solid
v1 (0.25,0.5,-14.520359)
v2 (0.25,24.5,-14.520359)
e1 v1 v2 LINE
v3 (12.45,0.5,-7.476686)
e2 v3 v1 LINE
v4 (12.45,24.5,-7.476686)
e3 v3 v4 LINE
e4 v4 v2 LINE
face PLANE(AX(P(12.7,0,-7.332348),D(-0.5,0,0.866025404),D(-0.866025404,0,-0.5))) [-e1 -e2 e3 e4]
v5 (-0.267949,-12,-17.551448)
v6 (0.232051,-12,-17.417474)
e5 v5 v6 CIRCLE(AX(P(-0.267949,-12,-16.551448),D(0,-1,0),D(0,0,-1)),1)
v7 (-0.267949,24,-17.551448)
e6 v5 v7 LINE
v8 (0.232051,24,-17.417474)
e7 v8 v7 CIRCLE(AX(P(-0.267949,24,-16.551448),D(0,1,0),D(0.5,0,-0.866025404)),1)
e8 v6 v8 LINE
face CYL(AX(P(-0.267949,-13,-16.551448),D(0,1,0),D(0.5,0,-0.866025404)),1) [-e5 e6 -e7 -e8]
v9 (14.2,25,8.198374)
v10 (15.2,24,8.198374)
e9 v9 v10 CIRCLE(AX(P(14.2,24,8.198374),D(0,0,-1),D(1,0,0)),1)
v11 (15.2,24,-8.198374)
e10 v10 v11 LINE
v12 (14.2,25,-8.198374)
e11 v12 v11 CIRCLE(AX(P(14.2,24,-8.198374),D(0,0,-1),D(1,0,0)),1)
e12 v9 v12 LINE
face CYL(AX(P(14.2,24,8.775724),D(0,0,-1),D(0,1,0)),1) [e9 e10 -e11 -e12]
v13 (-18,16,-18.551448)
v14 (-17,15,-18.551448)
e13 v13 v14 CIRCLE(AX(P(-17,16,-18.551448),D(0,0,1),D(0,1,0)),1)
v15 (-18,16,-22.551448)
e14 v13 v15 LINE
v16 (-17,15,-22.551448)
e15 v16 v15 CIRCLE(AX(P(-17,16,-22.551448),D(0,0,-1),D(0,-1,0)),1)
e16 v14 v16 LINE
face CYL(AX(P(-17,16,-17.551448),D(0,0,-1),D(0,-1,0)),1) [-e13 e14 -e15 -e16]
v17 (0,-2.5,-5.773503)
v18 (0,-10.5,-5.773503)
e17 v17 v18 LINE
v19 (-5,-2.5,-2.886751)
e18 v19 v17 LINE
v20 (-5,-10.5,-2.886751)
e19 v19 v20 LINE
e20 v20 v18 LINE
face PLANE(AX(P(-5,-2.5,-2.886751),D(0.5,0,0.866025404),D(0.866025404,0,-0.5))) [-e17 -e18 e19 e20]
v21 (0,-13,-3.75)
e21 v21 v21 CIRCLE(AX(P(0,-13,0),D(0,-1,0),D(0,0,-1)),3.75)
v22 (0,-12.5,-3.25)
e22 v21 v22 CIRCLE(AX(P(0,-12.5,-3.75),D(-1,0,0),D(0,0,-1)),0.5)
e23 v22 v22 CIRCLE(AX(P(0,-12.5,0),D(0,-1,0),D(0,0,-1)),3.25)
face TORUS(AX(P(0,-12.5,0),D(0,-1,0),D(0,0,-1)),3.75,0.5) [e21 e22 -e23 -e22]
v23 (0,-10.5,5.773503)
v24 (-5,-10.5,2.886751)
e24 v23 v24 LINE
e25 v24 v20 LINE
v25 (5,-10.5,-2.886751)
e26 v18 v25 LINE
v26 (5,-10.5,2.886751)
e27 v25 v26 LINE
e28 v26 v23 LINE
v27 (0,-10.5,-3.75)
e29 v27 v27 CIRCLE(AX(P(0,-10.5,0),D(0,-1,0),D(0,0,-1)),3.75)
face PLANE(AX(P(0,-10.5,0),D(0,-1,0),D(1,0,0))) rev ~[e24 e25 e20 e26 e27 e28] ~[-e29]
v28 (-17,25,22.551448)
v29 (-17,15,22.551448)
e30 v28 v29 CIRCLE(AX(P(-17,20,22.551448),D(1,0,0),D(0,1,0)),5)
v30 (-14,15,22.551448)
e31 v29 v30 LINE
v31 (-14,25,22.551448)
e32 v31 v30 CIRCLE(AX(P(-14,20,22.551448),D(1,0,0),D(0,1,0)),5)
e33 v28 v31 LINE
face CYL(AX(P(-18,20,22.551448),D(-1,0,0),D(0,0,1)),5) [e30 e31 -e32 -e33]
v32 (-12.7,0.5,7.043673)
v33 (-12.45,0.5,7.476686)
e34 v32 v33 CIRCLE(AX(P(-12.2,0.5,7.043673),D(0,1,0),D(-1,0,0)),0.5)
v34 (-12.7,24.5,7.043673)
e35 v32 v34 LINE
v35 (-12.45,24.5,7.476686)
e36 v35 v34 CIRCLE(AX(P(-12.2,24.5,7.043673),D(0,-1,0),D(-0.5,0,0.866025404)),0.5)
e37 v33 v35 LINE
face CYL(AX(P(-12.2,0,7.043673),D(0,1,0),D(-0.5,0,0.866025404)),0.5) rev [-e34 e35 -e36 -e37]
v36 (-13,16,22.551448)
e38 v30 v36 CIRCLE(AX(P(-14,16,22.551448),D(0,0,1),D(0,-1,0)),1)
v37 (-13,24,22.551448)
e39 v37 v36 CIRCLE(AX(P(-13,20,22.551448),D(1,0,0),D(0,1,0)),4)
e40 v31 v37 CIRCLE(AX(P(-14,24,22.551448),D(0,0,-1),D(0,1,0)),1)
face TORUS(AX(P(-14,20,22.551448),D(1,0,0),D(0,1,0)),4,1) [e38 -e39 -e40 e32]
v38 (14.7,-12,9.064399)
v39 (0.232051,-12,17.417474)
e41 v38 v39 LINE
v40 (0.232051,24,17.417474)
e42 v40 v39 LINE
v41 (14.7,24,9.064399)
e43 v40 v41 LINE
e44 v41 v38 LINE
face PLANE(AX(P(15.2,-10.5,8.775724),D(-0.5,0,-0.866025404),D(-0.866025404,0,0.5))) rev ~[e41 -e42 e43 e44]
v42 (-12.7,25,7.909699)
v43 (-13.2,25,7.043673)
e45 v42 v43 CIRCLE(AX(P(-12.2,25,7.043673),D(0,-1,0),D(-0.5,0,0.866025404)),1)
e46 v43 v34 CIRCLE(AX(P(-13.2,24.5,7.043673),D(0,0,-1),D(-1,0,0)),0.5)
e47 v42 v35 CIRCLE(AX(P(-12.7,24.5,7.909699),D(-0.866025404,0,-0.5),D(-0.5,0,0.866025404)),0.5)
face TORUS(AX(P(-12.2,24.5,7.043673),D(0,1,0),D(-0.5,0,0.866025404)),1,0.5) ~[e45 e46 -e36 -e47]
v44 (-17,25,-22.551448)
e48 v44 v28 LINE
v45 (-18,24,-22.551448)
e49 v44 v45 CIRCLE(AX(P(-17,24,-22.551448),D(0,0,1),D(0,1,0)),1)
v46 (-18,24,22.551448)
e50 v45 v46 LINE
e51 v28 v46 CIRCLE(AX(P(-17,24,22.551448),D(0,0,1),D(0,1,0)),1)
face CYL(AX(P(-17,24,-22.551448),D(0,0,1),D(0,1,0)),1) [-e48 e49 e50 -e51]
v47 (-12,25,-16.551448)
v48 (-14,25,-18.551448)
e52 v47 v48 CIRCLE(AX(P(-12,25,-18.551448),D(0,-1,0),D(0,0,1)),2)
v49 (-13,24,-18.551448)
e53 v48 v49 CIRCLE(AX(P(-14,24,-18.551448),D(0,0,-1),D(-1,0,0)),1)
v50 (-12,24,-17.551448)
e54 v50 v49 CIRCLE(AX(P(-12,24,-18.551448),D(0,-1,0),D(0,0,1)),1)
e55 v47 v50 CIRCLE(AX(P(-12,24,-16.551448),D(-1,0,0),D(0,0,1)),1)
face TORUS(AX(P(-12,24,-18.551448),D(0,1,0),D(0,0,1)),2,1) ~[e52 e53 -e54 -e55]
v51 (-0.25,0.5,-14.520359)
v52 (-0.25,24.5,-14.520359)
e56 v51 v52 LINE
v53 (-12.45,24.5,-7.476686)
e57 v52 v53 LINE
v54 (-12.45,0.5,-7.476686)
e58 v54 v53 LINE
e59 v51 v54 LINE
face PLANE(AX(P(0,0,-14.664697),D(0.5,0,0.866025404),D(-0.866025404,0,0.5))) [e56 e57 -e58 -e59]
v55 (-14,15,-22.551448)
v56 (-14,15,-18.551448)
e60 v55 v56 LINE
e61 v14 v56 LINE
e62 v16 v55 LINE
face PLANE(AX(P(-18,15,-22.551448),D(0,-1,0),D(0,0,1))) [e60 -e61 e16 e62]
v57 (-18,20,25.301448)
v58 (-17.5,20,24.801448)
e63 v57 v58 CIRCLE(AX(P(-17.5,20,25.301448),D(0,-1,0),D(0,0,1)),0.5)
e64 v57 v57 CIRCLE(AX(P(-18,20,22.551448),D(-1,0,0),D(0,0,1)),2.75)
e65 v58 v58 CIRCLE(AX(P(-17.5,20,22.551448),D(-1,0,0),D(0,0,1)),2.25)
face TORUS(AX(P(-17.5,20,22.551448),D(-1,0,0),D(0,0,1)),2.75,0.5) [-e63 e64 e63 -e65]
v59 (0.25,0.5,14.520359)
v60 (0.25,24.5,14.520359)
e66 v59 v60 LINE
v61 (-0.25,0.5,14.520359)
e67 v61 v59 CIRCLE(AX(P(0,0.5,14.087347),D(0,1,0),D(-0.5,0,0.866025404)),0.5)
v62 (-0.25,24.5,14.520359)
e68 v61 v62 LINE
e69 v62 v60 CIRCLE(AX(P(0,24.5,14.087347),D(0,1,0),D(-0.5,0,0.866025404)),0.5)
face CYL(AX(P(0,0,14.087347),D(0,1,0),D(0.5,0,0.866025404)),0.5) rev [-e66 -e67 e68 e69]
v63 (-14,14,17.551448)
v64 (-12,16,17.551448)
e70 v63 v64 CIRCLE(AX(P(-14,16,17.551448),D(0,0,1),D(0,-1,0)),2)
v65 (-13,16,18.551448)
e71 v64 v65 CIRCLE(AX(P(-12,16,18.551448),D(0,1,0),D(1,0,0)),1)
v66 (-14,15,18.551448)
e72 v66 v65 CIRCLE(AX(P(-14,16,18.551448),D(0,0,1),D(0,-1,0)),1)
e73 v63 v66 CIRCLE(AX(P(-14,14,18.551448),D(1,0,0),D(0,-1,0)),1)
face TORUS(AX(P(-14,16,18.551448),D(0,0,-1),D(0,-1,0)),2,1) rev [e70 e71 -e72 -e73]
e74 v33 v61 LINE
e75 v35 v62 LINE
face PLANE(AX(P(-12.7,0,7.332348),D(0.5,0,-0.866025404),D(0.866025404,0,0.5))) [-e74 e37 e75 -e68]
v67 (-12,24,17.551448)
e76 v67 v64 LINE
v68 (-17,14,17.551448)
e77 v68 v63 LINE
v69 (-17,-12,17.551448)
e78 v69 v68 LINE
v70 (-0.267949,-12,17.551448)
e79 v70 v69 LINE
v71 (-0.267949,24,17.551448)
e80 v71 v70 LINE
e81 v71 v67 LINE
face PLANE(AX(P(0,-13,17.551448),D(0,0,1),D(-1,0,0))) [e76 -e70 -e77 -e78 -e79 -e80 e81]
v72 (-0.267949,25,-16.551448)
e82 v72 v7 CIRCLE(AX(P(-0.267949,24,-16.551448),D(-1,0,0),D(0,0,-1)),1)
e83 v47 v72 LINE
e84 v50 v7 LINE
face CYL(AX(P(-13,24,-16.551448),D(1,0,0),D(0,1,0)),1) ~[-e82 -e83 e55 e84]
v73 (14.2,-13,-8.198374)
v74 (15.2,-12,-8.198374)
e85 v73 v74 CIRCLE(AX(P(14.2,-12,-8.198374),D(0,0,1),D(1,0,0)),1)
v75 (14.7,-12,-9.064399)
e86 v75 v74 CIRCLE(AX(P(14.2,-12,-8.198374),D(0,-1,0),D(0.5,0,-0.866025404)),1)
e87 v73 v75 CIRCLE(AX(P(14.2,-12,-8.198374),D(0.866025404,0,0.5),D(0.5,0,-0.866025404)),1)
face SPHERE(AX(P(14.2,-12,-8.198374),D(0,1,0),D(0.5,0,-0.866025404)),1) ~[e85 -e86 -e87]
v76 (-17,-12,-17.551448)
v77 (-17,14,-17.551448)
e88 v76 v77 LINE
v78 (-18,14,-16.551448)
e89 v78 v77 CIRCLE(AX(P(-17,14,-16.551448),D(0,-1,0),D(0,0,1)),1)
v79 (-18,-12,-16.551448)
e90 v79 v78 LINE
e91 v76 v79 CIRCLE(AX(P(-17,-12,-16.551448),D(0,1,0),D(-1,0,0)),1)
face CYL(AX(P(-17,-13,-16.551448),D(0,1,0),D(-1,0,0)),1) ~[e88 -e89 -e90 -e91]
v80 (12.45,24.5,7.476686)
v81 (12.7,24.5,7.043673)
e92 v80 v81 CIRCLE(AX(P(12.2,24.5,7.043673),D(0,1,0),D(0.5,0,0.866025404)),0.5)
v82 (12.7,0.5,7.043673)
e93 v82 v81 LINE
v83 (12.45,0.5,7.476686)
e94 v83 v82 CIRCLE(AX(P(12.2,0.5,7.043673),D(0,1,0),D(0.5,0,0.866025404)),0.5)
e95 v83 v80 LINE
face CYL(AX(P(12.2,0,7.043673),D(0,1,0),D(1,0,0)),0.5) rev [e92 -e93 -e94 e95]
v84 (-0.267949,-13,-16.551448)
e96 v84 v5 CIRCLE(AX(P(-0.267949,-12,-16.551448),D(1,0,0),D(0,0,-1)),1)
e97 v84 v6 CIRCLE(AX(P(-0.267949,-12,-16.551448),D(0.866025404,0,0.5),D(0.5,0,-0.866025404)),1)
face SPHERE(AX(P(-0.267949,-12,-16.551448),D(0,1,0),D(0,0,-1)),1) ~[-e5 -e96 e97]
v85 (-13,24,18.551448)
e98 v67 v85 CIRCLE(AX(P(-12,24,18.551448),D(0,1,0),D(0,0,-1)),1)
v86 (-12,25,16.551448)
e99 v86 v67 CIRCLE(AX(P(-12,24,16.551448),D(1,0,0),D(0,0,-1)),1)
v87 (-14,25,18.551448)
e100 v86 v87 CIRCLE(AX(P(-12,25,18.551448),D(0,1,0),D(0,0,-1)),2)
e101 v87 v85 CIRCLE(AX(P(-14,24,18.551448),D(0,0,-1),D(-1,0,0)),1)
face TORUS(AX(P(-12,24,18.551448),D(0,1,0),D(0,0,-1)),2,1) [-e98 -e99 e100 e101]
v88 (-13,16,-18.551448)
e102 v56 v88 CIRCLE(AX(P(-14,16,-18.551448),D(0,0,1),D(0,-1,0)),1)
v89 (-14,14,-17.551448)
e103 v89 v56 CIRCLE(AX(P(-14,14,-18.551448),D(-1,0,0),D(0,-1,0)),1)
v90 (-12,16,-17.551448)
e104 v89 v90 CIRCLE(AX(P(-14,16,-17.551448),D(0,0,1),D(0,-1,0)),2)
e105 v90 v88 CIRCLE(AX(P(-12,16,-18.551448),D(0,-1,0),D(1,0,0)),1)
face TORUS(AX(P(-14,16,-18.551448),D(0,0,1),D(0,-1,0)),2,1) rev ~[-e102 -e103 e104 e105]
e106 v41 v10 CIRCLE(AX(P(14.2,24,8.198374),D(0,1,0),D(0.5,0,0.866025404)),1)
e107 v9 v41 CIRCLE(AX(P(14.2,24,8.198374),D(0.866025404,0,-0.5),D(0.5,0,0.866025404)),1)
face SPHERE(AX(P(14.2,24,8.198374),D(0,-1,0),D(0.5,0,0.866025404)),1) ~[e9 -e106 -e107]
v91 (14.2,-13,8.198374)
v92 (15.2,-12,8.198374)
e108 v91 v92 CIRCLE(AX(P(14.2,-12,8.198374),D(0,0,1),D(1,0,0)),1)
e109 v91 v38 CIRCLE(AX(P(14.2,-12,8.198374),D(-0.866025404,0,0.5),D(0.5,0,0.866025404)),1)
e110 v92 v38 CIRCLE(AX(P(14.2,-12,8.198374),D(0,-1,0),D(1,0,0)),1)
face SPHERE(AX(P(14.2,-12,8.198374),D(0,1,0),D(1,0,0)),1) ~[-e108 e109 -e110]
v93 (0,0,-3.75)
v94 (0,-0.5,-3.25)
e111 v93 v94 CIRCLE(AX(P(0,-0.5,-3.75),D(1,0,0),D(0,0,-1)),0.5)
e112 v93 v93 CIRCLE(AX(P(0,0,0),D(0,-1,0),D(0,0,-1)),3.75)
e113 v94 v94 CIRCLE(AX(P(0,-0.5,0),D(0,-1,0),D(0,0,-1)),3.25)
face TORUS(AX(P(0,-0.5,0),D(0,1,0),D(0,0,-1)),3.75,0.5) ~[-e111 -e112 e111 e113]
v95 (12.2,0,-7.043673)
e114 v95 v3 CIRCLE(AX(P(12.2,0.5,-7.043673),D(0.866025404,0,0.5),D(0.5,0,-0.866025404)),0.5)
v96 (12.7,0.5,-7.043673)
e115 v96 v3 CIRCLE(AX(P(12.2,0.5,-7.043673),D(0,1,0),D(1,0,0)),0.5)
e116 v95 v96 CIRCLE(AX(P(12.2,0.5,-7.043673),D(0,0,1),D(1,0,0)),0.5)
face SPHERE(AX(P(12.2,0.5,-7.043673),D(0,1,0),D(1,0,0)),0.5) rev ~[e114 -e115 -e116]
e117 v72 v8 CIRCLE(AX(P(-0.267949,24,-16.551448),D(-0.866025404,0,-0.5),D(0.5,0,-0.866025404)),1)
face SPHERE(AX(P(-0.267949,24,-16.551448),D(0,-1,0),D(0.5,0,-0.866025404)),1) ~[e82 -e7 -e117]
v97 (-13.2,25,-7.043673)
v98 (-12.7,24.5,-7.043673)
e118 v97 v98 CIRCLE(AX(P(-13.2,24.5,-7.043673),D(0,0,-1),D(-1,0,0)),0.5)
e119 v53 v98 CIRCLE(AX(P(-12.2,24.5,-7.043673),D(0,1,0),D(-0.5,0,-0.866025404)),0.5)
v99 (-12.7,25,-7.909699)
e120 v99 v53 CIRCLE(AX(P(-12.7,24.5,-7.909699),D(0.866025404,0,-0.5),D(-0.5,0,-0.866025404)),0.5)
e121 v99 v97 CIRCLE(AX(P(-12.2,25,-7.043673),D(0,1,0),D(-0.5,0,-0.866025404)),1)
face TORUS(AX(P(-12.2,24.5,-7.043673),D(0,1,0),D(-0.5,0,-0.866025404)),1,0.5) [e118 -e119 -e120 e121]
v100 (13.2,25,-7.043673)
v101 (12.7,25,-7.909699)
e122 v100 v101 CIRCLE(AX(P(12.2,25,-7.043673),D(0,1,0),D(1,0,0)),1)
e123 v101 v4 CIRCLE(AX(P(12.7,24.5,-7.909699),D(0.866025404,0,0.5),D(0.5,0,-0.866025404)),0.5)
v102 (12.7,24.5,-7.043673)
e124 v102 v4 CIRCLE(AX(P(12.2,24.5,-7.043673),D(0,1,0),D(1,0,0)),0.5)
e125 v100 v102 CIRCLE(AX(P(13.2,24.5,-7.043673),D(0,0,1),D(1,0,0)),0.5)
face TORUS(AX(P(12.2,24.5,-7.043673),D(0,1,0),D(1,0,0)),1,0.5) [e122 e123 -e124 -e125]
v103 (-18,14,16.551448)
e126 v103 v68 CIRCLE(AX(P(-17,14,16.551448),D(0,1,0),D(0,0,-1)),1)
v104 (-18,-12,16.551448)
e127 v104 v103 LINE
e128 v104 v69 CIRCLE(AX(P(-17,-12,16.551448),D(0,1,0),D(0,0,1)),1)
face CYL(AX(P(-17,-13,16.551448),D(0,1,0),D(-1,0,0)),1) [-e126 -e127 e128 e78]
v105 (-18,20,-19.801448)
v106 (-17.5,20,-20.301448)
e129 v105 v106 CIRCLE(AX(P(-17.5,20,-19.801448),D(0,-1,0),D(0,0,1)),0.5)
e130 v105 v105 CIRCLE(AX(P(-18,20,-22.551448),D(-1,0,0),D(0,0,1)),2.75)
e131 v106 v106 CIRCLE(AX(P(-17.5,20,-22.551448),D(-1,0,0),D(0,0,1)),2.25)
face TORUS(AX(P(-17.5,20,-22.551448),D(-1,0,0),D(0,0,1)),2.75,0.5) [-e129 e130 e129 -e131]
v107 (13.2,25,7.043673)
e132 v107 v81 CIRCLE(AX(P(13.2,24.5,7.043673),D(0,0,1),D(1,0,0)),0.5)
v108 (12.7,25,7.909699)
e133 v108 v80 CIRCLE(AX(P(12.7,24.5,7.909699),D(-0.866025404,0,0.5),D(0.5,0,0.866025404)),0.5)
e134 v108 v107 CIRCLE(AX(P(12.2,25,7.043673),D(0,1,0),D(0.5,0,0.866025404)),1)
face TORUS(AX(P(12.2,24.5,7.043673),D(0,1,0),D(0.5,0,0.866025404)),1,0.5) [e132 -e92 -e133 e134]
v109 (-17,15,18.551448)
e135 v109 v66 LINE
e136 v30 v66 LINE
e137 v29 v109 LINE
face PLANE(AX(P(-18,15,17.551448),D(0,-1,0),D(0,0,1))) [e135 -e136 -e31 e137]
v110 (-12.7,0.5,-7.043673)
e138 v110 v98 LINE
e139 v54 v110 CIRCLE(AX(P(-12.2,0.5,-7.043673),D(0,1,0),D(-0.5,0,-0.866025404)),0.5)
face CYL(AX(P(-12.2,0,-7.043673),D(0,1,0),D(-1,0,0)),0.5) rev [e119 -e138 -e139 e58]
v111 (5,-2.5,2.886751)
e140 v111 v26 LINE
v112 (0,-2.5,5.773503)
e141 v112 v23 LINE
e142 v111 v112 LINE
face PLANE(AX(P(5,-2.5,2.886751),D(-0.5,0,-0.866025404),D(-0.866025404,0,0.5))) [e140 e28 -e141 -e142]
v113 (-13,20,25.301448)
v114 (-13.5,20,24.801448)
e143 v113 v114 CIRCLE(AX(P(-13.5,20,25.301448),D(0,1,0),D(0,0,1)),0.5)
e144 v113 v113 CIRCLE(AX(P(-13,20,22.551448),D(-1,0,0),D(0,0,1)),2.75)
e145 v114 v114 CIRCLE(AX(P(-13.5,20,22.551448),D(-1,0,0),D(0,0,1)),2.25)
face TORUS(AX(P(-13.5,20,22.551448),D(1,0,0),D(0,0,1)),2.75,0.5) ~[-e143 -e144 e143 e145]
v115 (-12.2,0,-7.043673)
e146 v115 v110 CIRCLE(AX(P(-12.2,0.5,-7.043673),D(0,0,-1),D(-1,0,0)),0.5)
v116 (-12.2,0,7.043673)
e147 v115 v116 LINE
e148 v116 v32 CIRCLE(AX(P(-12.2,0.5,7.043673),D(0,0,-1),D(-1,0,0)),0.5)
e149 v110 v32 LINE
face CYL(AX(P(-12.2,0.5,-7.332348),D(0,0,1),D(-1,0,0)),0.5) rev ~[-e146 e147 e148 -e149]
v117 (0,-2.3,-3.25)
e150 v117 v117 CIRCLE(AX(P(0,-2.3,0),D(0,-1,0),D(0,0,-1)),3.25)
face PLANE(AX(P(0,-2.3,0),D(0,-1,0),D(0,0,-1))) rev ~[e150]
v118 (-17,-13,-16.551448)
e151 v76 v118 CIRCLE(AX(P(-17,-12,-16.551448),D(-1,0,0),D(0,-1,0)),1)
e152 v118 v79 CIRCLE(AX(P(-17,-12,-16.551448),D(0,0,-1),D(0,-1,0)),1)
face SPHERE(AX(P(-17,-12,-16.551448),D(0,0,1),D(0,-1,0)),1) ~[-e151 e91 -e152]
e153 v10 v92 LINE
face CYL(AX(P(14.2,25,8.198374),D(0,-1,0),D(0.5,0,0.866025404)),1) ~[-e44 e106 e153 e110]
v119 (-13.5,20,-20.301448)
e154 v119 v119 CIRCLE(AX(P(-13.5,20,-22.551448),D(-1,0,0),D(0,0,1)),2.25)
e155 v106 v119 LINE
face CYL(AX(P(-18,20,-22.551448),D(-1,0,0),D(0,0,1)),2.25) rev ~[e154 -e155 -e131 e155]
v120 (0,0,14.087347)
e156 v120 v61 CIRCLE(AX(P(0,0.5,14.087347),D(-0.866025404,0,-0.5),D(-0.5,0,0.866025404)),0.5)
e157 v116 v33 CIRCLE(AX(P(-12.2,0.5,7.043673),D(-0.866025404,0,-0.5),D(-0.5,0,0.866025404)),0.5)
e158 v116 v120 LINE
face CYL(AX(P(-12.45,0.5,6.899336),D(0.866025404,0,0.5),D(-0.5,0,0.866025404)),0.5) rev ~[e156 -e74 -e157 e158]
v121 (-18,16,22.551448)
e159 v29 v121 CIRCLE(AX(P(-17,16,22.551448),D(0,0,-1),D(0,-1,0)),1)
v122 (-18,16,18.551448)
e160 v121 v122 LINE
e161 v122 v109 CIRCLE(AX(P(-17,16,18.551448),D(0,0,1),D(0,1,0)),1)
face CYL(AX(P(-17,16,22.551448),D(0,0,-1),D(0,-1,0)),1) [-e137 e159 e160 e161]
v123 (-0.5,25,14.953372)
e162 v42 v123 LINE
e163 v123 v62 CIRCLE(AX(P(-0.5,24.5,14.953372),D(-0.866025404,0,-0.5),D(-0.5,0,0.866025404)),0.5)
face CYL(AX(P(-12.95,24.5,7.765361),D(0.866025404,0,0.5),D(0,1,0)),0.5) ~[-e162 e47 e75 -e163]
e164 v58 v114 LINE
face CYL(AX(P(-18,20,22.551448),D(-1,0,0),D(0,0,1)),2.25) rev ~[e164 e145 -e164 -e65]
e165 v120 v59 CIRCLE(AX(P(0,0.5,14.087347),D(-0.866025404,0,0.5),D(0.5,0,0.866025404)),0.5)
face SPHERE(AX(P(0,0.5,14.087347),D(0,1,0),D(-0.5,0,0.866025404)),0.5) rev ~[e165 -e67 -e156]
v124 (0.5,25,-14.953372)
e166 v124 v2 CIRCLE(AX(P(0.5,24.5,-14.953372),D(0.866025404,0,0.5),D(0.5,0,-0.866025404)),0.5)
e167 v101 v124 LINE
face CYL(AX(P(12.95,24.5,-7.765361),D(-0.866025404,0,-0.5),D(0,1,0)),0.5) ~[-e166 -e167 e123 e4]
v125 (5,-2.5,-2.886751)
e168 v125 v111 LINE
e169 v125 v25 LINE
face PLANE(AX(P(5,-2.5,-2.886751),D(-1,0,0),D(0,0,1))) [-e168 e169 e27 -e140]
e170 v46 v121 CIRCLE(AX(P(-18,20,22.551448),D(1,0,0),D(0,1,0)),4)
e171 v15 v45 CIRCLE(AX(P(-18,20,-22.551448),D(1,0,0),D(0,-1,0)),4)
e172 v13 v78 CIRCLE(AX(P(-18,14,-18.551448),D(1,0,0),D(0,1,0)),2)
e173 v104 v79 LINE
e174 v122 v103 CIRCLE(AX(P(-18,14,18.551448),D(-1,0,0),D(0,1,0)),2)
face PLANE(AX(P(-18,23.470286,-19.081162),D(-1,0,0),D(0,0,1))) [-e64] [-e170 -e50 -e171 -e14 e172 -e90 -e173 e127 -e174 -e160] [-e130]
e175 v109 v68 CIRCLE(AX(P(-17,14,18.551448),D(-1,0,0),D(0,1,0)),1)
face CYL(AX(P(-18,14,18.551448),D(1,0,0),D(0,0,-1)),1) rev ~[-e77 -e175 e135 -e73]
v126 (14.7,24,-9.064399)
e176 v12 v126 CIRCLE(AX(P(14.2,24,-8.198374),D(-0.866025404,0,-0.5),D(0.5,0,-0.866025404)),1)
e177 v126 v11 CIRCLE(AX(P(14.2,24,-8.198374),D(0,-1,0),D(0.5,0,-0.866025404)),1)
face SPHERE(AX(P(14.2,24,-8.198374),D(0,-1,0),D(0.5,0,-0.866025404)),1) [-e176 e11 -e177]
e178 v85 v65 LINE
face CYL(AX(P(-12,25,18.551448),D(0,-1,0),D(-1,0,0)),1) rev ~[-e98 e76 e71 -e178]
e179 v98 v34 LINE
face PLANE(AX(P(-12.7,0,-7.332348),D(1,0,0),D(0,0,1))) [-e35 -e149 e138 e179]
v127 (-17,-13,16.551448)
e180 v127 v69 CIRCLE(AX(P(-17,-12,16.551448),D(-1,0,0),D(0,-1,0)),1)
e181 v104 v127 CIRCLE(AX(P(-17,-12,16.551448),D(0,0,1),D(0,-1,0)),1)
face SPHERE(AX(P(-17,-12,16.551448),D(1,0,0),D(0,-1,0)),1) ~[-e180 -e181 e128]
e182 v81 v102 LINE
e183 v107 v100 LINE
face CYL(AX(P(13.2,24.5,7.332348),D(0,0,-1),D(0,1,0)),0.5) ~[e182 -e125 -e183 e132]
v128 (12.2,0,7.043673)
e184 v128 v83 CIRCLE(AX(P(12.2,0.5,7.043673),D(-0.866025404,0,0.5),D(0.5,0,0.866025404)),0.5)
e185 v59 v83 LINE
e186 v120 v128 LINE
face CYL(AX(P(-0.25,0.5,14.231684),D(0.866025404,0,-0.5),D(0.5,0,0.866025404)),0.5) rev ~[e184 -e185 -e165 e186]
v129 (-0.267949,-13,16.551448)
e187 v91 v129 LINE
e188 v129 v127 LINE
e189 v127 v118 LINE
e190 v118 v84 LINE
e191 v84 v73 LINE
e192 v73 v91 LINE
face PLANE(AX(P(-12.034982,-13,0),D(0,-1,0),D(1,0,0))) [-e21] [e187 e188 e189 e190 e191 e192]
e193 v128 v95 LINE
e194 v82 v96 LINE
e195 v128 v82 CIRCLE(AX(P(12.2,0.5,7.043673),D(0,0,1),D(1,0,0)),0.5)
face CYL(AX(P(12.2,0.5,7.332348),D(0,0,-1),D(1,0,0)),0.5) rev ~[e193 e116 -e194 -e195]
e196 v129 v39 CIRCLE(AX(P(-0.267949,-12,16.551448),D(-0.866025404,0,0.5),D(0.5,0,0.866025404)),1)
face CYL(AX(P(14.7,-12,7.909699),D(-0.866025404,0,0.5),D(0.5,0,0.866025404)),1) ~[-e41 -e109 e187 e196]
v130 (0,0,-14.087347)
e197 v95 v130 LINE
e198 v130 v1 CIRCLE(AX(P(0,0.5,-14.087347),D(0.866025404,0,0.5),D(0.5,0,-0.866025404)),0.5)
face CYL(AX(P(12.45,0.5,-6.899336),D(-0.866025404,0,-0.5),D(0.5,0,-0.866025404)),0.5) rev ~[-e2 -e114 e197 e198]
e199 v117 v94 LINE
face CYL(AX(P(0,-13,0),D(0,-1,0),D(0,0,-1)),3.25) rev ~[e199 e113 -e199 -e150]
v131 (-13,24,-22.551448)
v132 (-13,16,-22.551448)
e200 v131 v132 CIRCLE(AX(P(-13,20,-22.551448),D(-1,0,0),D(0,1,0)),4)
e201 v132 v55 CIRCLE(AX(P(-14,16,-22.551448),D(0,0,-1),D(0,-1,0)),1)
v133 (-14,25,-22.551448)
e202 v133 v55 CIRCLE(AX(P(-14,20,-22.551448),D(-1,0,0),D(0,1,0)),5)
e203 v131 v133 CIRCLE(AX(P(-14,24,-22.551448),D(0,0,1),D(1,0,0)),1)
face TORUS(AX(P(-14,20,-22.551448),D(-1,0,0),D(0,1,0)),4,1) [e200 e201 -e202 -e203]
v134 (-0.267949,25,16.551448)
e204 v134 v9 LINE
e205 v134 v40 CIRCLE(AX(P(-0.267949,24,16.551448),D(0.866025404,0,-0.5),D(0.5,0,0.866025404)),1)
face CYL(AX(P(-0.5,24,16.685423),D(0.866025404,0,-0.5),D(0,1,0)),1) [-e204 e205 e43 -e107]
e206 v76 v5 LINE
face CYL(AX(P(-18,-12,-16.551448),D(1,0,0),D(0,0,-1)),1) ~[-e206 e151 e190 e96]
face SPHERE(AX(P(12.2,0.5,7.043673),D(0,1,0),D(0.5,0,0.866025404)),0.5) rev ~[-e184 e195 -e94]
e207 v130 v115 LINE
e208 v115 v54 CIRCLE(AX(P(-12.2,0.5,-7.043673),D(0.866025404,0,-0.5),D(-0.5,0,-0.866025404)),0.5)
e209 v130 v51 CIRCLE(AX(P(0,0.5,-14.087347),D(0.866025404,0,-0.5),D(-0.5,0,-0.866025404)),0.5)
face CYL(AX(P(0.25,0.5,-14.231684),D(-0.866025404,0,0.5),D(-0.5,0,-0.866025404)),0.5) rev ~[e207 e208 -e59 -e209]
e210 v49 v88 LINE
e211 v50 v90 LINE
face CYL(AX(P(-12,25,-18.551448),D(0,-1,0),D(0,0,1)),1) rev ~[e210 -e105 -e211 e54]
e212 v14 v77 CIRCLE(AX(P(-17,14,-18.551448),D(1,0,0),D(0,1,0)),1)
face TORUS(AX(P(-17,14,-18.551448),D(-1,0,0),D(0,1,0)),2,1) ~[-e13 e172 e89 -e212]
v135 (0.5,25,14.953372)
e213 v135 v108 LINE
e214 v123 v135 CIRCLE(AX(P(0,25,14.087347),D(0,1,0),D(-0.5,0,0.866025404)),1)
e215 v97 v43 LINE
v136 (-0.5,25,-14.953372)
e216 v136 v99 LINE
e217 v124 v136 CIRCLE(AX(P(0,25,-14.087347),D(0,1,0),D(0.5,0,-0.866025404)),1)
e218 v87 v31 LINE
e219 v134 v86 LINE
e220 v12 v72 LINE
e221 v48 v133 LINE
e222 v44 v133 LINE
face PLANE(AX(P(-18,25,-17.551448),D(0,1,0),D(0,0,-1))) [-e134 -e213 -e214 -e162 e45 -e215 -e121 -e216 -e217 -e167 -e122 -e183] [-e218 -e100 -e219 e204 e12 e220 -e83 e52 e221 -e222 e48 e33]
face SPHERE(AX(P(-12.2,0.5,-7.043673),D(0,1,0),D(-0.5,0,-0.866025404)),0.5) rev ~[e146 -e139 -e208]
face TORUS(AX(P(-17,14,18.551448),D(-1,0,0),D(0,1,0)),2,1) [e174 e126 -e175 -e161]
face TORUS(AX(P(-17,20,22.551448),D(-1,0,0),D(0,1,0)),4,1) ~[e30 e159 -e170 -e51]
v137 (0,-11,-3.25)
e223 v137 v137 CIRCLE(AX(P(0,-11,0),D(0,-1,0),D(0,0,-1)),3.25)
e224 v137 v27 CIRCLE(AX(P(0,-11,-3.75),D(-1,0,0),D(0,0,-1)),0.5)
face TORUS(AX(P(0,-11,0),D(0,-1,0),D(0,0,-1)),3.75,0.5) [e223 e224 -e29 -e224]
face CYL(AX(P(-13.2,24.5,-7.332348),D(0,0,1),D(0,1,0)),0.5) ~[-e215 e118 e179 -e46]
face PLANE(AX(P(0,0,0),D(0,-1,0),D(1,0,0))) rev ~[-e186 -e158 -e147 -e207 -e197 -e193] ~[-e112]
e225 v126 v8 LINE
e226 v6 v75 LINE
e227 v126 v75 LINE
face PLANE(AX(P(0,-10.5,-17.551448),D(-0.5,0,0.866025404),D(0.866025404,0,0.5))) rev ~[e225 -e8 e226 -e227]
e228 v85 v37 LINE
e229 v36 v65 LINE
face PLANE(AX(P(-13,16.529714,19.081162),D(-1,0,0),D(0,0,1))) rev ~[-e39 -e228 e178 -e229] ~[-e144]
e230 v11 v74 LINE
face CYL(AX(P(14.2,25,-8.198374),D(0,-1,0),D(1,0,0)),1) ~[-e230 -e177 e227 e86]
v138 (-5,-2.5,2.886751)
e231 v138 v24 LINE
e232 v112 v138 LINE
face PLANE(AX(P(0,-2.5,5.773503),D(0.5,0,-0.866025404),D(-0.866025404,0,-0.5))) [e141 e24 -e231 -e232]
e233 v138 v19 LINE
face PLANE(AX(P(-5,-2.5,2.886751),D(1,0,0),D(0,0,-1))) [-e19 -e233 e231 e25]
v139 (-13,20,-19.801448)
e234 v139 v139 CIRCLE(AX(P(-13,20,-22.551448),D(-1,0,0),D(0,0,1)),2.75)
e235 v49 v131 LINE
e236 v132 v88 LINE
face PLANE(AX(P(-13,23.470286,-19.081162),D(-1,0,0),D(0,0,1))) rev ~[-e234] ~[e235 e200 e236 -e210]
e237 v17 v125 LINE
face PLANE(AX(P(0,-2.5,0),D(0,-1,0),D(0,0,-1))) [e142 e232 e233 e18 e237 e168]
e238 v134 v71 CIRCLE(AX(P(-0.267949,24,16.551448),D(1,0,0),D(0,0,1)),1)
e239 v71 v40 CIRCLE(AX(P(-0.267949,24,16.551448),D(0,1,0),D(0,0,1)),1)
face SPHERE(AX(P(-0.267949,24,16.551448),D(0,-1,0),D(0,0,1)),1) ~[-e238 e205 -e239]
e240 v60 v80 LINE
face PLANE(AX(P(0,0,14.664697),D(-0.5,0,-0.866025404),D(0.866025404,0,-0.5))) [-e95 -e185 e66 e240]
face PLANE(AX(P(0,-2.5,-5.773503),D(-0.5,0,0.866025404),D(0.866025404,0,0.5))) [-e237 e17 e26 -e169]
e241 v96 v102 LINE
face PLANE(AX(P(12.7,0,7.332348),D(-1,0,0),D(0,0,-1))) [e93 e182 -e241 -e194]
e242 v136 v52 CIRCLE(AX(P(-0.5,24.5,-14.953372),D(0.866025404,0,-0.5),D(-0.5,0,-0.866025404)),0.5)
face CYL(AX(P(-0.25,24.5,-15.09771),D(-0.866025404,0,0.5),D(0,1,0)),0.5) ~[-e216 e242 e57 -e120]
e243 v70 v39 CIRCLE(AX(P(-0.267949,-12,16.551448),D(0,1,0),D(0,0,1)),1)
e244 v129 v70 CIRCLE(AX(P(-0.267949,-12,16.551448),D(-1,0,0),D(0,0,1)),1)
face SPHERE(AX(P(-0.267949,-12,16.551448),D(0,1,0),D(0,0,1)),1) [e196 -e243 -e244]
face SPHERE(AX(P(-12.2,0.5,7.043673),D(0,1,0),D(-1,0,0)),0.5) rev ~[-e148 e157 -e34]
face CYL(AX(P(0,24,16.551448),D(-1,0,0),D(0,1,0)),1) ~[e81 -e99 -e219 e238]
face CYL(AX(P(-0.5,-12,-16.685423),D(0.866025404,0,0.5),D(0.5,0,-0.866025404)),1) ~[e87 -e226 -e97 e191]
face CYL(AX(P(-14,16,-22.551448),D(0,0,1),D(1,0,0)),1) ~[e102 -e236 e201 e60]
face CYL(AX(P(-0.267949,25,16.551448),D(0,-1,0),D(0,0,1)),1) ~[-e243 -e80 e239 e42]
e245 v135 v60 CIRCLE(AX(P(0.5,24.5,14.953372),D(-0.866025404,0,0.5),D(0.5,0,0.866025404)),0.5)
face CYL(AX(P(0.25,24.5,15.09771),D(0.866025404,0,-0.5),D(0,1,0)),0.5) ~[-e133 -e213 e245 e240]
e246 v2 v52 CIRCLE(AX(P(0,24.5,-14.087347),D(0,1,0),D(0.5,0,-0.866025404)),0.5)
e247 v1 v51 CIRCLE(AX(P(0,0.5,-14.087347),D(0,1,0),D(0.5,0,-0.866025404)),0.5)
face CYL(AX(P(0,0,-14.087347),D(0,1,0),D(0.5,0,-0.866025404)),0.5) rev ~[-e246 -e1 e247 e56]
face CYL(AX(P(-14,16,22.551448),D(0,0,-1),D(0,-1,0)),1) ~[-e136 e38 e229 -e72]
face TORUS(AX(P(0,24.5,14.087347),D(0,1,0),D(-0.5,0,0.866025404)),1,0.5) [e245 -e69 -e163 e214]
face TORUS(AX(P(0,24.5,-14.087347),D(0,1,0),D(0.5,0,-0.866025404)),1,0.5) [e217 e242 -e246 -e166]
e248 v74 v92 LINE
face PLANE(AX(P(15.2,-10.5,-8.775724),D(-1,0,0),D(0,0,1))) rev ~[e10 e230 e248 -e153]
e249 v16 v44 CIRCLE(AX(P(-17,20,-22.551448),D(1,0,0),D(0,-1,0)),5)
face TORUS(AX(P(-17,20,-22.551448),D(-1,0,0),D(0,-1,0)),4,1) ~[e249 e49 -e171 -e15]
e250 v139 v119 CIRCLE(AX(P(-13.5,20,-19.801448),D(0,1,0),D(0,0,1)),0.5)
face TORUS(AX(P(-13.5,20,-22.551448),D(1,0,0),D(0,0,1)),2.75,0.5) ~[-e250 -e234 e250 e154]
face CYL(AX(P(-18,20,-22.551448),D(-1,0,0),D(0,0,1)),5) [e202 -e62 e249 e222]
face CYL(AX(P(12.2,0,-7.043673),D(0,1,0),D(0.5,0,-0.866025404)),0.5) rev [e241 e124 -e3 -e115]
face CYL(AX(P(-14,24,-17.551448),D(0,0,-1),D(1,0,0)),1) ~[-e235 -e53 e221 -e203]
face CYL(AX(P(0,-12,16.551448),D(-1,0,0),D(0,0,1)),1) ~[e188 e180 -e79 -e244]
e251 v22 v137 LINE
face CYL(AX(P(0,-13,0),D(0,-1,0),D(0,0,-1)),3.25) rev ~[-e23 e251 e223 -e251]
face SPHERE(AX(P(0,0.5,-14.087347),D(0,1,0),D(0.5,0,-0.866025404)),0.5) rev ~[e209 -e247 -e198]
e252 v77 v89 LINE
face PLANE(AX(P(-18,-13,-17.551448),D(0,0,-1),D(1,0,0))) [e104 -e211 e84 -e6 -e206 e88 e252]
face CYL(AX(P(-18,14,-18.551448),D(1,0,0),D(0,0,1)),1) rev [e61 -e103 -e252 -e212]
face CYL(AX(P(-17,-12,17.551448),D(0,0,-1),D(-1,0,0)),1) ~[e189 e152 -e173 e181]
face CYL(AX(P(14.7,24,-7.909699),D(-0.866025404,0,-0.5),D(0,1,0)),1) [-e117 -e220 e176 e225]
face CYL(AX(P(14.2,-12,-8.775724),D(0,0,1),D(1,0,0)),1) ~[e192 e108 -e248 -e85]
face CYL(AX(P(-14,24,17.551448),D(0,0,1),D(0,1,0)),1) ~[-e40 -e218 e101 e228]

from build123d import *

# Parameters (mm, degrees)
BOSS_EXTRUDE1_DEPTH = 25
BOSS_EXTRUDE2_DEPTH = 2.5
BOSS_EXTRUDE3_DEPTH = 8
BOSS_EXTRUDE4_DEPTH = 2.5
SKETCH5_R           = 3.25
CUT_EXTRUDE1_DEPTH  = 45.531936106
BOSS_EXTRUDE5_DEPTH = 38
SKETCH7_R           = 5
SKETCH7_R_2         = 2.25
BOSS_EXTRUDE6_DEPTH = 5
SKETCH8_R           = 3.25
BOSS_EXTRUDE7_DEPTH = 0.2
FILLET1_R           = 0.5
FILLET2_R           = 1
FILLET3_R           = 0.5


with BuildPart() as part:
    # Sketch1 → Boss-Extrude1 (new body)
    with BuildSketch(Plane(origin=(0, 0, 0), x_dir=(1, 0, 0), z_dir=(0, 1, 0))):
        Polygon((15.2, -8.775724092), (15.2, 8.775724092), (0, 17.551448183), (-15.2, 8.775724092), (-15.2, -8.775724092), (0, -17.551448183), align=None)
        Polygon((0, -14.664696837), (12.7, -7.332348419), (12.7, 7.332348419), (0, 14.664696837), (-12.7, 7.332348419), (-12.7, -7.332348419), align=None, mode=Mode.SUBTRACT)
    extrude(amount=BOSS_EXTRUDE1_DEPTH)

    # Sketch2 → Boss-Extrude2 (add)
    with BuildSketch(Plane.XZ):
        Polygon((0, -17.551448183), (15.2, -8.775724092), (15.2, 8.775724092), (0, 17.551448183), (-15.2, 8.775724092), (-15.2, -8.775724092), align=None)
    extrude(amount=BOSS_EXTRUDE2_DEPTH)

    # Sketch3 → Boss-Extrude3 (add)
    with BuildSketch(Plane.XZ.offset(2.5)):
        Polygon((0, -17.551448183), (15.2, -8.775724092), (15.2, 8.775724092), (0, 17.551448183), (-15.2, 8.775724092), (-15.2, -8.775724092), align=None)
        Polygon((0, -5.773502692), (5, -2.886751346), (5, 2.886751346), (0, 5.773502692), (-5, 2.886751346), (-5, -2.886751346), align=None, mode=Mode.SUBTRACT)
    extrude(amount=BOSS_EXTRUDE3_DEPTH)

    # Sketch4 → Boss-Extrude4 (add)
    with BuildSketch(Plane.XZ.offset(10.5)):
        Polygon((0, -17.551448183), (15.2, -8.775724092), (15.2, 8.775724092), (0, 17.551448183), (-15.2, 8.775724092), (-15.2, -8.775724092), align=None)
    extrude(amount=BOSS_EXTRUDE4_DEPTH)

    # Sketch5 → Cut-Extrude1 (cut, through all)
    with BuildSketch(Plane.XZ.offset(13)):
        with Locations(Location((0, 0, 0), (0, 0, 270))):
            Circle(SKETCH5_R)
    extrude(amount=-CUT_EXTRUDE1_DEPTH, mode=Mode.SUBTRACT)

    # Sketch6 → Boss-Extrude5 (add)
    with BuildSketch(Plane.XZ.offset(13)):
        Polygon((0, 17.551448183), (-18, 17.551448183), (-18, -17.551448183), (0, -17.551448183), (-15.2, -8.775724092), (-15.2, 8.775724092), align=None)
    extrude(amount=-BOSS_EXTRUDE5_DEPTH)

    # Sketch7 → Boss-Extrude6 (add)
    # profile 1 of 6: a face of its own
    with BuildSketch(Plane.ZY.offset(18)):
        with BuildLine():
            Line((-17.551448183, 25), (-22.551448183, 25))
            ThreePointArc((-22.551448183, 25), (-19.015914277, 23.535533906), (-17.551448183, 20))
            Line((-17.551448183, 20), (-17.551448183, 25))
        make_face()
    # profile 2 of 6: a face of its own
    with BuildSketch(Plane.ZY.offset(18)):
        with BuildLine():
            Line((-17.551448183, 15), (-17.551448183, 20))
            ThreePointArc((-17.551448183, 20), (-19.015914277, 16.464466094), (-22.551448183, 15))
            Line((-22.551448183, 15), (-17.551448183, 15))
        make_face()
    # profile 3 of 6: a face of its own
    with BuildSketch(Plane.ZY.offset(18)):
        with Locations((-22.551448183, 20)):
            Circle(SKETCH7_R)
        with Locations((-22.551448183, 20)):
            Circle(SKETCH7_R_2, mode=Mode.SUBTRACT)
    # profile 4 of 6: a face of its own
    with BuildSketch(Plane.ZY.offset(18)):
        with Locations((22.551448183, 20)):
            Circle(SKETCH7_R)
        with Locations((22.551448183, 20)):
            Circle(SKETCH7_R_2, mode=Mode.SUBTRACT)
    # profile 5 of 6: a face of its own
    with BuildSketch(Plane.ZY.offset(18)):
        with BuildLine():
            ThreePointArc((22.551448183, 15), (19.015914277, 16.464466094), (17.551448183, 20))
            Line((17.551448183, 20), (17.551448183, 15))
            Line((17.551448183, 15), (22.551448183, 15))
        make_face()
    # profile 6 of 6: a face of its own
    with BuildSketch(Plane.ZY.offset(18)):
        with BuildLine():
            Line((22.551448183, 25), (17.551448183, 25))
            Line((17.551448183, 25), (17.551448183, 20))
            ThreePointArc((17.551448183, 20), (19.015914277, 23.535533906), (22.551448183, 25))
        make_face()
    extrude(amount=-BOSS_EXTRUDE6_DEPTH)

    # Sketch8 → Boss-Extrude7 (add)
    with BuildSketch(Plane.XZ.offset(2.5)):
        with Locations(Location((0, 0, 0), (0, 0, 270))):
            Circle(SKETCH8_R)
    extrude(amount=-BOSS_EXTRUDE7_DEPTH)

    # Fillet1
    fillet1_edges = [part.edges().sort_by_distance(p)[0] for p in [
        (0, 0, 3.25),
        (-6.35, 0, 10.998522628),
        (-12.7, 12.5, 7.332348419),
        (6.35, 0, 10.998522628),
        (0, 12.5, 14.664696837),
        (12.7, 0, 0),
        (12.7, 12.5, 7.332348419),
        (6.35, 0, -10.998522628),
        (12.7, 12.5, -7.332348419),
        (-6.35, 0, -10.998522628),
        (0, 12.5, -14.664696837),
        (-12.7, 0, 0),
        (-12.7, 12.5, -7.332348419),
        (-6.35, 25, 10.998522628),
        (6.35, 25, 10.998522628),
        (12.7, 25, 0),
        (6.35, 25, -10.998522628),
        (-6.35, 25, -10.998522628),
        (-12.7, 25, 0),
    ]]
    fillet(fillet1_edges, radius=FILLET1_R)

    # Fillet2
    fillet2_edges = [part.edges().sort_by_distance(p)[0] for p in [
        (0, 6, 17.551448183),
        (0, 6, -17.551448183),
        (15.2, 6, -8.775724092),
        (15.2, 6, 8.775724092),
        (7.6, 25, -13.163586138),
        (-9, -13, 17.551448183),
        (-18, -13, 0),
        (-9, -13, -17.551448183),
        (-6.5, 25, 17.551448183),
        (-18, 25, 0),
        (-18, 1, -17.551448183),
        (-6.5, 25, -17.551448183),
        (-13, 15, -20.051448183),
        (-15.5, 15, -17.551448183),
        (-13, 20, -27.551448183),
        (-13, 25, -20.051448183),
        (-13, 20, -17.551448183),
        (-18, 20, -27.551448183),
        (-18, 15, -20.051448183),
        (-18, 1, 17.551448183),
        (-13, 20, 27.551448183),
        (-13, 15, 20.051448183),
        (-15.5, 15, 17.551448183),
        (-13, 20, 17.551448183),
        (-13, 25, 20.051448183),
        (-18, 20, 27.551448183),
        (-18, 15, 20.051448183),
        (7.6, 25, 13.163586138),
        (15.2, 25, 0),
        (7.6, -13, -13.163586138),
        (15.2, -13, 0),
        (7.6, -13, 13.163586138),
    ]]
    fillet(fillet2_edges, radius=FILLET2_R)

    # Fillet3
    fillet3_edges = [part.edges().sort_by_distance(p)[0] for p in [
        (0, -10.5, 3.25),
        (0, -13, 3.25),
        (-18, 20, -24.801448183),
        (-13, 20, -24.801448183),
        (-18, 20, 20.301448183),
        (-13, 20, 20.301448183),
    ]]
    fillet(fillet3_edges, radius=FILLET3_R)


solid = part.part
